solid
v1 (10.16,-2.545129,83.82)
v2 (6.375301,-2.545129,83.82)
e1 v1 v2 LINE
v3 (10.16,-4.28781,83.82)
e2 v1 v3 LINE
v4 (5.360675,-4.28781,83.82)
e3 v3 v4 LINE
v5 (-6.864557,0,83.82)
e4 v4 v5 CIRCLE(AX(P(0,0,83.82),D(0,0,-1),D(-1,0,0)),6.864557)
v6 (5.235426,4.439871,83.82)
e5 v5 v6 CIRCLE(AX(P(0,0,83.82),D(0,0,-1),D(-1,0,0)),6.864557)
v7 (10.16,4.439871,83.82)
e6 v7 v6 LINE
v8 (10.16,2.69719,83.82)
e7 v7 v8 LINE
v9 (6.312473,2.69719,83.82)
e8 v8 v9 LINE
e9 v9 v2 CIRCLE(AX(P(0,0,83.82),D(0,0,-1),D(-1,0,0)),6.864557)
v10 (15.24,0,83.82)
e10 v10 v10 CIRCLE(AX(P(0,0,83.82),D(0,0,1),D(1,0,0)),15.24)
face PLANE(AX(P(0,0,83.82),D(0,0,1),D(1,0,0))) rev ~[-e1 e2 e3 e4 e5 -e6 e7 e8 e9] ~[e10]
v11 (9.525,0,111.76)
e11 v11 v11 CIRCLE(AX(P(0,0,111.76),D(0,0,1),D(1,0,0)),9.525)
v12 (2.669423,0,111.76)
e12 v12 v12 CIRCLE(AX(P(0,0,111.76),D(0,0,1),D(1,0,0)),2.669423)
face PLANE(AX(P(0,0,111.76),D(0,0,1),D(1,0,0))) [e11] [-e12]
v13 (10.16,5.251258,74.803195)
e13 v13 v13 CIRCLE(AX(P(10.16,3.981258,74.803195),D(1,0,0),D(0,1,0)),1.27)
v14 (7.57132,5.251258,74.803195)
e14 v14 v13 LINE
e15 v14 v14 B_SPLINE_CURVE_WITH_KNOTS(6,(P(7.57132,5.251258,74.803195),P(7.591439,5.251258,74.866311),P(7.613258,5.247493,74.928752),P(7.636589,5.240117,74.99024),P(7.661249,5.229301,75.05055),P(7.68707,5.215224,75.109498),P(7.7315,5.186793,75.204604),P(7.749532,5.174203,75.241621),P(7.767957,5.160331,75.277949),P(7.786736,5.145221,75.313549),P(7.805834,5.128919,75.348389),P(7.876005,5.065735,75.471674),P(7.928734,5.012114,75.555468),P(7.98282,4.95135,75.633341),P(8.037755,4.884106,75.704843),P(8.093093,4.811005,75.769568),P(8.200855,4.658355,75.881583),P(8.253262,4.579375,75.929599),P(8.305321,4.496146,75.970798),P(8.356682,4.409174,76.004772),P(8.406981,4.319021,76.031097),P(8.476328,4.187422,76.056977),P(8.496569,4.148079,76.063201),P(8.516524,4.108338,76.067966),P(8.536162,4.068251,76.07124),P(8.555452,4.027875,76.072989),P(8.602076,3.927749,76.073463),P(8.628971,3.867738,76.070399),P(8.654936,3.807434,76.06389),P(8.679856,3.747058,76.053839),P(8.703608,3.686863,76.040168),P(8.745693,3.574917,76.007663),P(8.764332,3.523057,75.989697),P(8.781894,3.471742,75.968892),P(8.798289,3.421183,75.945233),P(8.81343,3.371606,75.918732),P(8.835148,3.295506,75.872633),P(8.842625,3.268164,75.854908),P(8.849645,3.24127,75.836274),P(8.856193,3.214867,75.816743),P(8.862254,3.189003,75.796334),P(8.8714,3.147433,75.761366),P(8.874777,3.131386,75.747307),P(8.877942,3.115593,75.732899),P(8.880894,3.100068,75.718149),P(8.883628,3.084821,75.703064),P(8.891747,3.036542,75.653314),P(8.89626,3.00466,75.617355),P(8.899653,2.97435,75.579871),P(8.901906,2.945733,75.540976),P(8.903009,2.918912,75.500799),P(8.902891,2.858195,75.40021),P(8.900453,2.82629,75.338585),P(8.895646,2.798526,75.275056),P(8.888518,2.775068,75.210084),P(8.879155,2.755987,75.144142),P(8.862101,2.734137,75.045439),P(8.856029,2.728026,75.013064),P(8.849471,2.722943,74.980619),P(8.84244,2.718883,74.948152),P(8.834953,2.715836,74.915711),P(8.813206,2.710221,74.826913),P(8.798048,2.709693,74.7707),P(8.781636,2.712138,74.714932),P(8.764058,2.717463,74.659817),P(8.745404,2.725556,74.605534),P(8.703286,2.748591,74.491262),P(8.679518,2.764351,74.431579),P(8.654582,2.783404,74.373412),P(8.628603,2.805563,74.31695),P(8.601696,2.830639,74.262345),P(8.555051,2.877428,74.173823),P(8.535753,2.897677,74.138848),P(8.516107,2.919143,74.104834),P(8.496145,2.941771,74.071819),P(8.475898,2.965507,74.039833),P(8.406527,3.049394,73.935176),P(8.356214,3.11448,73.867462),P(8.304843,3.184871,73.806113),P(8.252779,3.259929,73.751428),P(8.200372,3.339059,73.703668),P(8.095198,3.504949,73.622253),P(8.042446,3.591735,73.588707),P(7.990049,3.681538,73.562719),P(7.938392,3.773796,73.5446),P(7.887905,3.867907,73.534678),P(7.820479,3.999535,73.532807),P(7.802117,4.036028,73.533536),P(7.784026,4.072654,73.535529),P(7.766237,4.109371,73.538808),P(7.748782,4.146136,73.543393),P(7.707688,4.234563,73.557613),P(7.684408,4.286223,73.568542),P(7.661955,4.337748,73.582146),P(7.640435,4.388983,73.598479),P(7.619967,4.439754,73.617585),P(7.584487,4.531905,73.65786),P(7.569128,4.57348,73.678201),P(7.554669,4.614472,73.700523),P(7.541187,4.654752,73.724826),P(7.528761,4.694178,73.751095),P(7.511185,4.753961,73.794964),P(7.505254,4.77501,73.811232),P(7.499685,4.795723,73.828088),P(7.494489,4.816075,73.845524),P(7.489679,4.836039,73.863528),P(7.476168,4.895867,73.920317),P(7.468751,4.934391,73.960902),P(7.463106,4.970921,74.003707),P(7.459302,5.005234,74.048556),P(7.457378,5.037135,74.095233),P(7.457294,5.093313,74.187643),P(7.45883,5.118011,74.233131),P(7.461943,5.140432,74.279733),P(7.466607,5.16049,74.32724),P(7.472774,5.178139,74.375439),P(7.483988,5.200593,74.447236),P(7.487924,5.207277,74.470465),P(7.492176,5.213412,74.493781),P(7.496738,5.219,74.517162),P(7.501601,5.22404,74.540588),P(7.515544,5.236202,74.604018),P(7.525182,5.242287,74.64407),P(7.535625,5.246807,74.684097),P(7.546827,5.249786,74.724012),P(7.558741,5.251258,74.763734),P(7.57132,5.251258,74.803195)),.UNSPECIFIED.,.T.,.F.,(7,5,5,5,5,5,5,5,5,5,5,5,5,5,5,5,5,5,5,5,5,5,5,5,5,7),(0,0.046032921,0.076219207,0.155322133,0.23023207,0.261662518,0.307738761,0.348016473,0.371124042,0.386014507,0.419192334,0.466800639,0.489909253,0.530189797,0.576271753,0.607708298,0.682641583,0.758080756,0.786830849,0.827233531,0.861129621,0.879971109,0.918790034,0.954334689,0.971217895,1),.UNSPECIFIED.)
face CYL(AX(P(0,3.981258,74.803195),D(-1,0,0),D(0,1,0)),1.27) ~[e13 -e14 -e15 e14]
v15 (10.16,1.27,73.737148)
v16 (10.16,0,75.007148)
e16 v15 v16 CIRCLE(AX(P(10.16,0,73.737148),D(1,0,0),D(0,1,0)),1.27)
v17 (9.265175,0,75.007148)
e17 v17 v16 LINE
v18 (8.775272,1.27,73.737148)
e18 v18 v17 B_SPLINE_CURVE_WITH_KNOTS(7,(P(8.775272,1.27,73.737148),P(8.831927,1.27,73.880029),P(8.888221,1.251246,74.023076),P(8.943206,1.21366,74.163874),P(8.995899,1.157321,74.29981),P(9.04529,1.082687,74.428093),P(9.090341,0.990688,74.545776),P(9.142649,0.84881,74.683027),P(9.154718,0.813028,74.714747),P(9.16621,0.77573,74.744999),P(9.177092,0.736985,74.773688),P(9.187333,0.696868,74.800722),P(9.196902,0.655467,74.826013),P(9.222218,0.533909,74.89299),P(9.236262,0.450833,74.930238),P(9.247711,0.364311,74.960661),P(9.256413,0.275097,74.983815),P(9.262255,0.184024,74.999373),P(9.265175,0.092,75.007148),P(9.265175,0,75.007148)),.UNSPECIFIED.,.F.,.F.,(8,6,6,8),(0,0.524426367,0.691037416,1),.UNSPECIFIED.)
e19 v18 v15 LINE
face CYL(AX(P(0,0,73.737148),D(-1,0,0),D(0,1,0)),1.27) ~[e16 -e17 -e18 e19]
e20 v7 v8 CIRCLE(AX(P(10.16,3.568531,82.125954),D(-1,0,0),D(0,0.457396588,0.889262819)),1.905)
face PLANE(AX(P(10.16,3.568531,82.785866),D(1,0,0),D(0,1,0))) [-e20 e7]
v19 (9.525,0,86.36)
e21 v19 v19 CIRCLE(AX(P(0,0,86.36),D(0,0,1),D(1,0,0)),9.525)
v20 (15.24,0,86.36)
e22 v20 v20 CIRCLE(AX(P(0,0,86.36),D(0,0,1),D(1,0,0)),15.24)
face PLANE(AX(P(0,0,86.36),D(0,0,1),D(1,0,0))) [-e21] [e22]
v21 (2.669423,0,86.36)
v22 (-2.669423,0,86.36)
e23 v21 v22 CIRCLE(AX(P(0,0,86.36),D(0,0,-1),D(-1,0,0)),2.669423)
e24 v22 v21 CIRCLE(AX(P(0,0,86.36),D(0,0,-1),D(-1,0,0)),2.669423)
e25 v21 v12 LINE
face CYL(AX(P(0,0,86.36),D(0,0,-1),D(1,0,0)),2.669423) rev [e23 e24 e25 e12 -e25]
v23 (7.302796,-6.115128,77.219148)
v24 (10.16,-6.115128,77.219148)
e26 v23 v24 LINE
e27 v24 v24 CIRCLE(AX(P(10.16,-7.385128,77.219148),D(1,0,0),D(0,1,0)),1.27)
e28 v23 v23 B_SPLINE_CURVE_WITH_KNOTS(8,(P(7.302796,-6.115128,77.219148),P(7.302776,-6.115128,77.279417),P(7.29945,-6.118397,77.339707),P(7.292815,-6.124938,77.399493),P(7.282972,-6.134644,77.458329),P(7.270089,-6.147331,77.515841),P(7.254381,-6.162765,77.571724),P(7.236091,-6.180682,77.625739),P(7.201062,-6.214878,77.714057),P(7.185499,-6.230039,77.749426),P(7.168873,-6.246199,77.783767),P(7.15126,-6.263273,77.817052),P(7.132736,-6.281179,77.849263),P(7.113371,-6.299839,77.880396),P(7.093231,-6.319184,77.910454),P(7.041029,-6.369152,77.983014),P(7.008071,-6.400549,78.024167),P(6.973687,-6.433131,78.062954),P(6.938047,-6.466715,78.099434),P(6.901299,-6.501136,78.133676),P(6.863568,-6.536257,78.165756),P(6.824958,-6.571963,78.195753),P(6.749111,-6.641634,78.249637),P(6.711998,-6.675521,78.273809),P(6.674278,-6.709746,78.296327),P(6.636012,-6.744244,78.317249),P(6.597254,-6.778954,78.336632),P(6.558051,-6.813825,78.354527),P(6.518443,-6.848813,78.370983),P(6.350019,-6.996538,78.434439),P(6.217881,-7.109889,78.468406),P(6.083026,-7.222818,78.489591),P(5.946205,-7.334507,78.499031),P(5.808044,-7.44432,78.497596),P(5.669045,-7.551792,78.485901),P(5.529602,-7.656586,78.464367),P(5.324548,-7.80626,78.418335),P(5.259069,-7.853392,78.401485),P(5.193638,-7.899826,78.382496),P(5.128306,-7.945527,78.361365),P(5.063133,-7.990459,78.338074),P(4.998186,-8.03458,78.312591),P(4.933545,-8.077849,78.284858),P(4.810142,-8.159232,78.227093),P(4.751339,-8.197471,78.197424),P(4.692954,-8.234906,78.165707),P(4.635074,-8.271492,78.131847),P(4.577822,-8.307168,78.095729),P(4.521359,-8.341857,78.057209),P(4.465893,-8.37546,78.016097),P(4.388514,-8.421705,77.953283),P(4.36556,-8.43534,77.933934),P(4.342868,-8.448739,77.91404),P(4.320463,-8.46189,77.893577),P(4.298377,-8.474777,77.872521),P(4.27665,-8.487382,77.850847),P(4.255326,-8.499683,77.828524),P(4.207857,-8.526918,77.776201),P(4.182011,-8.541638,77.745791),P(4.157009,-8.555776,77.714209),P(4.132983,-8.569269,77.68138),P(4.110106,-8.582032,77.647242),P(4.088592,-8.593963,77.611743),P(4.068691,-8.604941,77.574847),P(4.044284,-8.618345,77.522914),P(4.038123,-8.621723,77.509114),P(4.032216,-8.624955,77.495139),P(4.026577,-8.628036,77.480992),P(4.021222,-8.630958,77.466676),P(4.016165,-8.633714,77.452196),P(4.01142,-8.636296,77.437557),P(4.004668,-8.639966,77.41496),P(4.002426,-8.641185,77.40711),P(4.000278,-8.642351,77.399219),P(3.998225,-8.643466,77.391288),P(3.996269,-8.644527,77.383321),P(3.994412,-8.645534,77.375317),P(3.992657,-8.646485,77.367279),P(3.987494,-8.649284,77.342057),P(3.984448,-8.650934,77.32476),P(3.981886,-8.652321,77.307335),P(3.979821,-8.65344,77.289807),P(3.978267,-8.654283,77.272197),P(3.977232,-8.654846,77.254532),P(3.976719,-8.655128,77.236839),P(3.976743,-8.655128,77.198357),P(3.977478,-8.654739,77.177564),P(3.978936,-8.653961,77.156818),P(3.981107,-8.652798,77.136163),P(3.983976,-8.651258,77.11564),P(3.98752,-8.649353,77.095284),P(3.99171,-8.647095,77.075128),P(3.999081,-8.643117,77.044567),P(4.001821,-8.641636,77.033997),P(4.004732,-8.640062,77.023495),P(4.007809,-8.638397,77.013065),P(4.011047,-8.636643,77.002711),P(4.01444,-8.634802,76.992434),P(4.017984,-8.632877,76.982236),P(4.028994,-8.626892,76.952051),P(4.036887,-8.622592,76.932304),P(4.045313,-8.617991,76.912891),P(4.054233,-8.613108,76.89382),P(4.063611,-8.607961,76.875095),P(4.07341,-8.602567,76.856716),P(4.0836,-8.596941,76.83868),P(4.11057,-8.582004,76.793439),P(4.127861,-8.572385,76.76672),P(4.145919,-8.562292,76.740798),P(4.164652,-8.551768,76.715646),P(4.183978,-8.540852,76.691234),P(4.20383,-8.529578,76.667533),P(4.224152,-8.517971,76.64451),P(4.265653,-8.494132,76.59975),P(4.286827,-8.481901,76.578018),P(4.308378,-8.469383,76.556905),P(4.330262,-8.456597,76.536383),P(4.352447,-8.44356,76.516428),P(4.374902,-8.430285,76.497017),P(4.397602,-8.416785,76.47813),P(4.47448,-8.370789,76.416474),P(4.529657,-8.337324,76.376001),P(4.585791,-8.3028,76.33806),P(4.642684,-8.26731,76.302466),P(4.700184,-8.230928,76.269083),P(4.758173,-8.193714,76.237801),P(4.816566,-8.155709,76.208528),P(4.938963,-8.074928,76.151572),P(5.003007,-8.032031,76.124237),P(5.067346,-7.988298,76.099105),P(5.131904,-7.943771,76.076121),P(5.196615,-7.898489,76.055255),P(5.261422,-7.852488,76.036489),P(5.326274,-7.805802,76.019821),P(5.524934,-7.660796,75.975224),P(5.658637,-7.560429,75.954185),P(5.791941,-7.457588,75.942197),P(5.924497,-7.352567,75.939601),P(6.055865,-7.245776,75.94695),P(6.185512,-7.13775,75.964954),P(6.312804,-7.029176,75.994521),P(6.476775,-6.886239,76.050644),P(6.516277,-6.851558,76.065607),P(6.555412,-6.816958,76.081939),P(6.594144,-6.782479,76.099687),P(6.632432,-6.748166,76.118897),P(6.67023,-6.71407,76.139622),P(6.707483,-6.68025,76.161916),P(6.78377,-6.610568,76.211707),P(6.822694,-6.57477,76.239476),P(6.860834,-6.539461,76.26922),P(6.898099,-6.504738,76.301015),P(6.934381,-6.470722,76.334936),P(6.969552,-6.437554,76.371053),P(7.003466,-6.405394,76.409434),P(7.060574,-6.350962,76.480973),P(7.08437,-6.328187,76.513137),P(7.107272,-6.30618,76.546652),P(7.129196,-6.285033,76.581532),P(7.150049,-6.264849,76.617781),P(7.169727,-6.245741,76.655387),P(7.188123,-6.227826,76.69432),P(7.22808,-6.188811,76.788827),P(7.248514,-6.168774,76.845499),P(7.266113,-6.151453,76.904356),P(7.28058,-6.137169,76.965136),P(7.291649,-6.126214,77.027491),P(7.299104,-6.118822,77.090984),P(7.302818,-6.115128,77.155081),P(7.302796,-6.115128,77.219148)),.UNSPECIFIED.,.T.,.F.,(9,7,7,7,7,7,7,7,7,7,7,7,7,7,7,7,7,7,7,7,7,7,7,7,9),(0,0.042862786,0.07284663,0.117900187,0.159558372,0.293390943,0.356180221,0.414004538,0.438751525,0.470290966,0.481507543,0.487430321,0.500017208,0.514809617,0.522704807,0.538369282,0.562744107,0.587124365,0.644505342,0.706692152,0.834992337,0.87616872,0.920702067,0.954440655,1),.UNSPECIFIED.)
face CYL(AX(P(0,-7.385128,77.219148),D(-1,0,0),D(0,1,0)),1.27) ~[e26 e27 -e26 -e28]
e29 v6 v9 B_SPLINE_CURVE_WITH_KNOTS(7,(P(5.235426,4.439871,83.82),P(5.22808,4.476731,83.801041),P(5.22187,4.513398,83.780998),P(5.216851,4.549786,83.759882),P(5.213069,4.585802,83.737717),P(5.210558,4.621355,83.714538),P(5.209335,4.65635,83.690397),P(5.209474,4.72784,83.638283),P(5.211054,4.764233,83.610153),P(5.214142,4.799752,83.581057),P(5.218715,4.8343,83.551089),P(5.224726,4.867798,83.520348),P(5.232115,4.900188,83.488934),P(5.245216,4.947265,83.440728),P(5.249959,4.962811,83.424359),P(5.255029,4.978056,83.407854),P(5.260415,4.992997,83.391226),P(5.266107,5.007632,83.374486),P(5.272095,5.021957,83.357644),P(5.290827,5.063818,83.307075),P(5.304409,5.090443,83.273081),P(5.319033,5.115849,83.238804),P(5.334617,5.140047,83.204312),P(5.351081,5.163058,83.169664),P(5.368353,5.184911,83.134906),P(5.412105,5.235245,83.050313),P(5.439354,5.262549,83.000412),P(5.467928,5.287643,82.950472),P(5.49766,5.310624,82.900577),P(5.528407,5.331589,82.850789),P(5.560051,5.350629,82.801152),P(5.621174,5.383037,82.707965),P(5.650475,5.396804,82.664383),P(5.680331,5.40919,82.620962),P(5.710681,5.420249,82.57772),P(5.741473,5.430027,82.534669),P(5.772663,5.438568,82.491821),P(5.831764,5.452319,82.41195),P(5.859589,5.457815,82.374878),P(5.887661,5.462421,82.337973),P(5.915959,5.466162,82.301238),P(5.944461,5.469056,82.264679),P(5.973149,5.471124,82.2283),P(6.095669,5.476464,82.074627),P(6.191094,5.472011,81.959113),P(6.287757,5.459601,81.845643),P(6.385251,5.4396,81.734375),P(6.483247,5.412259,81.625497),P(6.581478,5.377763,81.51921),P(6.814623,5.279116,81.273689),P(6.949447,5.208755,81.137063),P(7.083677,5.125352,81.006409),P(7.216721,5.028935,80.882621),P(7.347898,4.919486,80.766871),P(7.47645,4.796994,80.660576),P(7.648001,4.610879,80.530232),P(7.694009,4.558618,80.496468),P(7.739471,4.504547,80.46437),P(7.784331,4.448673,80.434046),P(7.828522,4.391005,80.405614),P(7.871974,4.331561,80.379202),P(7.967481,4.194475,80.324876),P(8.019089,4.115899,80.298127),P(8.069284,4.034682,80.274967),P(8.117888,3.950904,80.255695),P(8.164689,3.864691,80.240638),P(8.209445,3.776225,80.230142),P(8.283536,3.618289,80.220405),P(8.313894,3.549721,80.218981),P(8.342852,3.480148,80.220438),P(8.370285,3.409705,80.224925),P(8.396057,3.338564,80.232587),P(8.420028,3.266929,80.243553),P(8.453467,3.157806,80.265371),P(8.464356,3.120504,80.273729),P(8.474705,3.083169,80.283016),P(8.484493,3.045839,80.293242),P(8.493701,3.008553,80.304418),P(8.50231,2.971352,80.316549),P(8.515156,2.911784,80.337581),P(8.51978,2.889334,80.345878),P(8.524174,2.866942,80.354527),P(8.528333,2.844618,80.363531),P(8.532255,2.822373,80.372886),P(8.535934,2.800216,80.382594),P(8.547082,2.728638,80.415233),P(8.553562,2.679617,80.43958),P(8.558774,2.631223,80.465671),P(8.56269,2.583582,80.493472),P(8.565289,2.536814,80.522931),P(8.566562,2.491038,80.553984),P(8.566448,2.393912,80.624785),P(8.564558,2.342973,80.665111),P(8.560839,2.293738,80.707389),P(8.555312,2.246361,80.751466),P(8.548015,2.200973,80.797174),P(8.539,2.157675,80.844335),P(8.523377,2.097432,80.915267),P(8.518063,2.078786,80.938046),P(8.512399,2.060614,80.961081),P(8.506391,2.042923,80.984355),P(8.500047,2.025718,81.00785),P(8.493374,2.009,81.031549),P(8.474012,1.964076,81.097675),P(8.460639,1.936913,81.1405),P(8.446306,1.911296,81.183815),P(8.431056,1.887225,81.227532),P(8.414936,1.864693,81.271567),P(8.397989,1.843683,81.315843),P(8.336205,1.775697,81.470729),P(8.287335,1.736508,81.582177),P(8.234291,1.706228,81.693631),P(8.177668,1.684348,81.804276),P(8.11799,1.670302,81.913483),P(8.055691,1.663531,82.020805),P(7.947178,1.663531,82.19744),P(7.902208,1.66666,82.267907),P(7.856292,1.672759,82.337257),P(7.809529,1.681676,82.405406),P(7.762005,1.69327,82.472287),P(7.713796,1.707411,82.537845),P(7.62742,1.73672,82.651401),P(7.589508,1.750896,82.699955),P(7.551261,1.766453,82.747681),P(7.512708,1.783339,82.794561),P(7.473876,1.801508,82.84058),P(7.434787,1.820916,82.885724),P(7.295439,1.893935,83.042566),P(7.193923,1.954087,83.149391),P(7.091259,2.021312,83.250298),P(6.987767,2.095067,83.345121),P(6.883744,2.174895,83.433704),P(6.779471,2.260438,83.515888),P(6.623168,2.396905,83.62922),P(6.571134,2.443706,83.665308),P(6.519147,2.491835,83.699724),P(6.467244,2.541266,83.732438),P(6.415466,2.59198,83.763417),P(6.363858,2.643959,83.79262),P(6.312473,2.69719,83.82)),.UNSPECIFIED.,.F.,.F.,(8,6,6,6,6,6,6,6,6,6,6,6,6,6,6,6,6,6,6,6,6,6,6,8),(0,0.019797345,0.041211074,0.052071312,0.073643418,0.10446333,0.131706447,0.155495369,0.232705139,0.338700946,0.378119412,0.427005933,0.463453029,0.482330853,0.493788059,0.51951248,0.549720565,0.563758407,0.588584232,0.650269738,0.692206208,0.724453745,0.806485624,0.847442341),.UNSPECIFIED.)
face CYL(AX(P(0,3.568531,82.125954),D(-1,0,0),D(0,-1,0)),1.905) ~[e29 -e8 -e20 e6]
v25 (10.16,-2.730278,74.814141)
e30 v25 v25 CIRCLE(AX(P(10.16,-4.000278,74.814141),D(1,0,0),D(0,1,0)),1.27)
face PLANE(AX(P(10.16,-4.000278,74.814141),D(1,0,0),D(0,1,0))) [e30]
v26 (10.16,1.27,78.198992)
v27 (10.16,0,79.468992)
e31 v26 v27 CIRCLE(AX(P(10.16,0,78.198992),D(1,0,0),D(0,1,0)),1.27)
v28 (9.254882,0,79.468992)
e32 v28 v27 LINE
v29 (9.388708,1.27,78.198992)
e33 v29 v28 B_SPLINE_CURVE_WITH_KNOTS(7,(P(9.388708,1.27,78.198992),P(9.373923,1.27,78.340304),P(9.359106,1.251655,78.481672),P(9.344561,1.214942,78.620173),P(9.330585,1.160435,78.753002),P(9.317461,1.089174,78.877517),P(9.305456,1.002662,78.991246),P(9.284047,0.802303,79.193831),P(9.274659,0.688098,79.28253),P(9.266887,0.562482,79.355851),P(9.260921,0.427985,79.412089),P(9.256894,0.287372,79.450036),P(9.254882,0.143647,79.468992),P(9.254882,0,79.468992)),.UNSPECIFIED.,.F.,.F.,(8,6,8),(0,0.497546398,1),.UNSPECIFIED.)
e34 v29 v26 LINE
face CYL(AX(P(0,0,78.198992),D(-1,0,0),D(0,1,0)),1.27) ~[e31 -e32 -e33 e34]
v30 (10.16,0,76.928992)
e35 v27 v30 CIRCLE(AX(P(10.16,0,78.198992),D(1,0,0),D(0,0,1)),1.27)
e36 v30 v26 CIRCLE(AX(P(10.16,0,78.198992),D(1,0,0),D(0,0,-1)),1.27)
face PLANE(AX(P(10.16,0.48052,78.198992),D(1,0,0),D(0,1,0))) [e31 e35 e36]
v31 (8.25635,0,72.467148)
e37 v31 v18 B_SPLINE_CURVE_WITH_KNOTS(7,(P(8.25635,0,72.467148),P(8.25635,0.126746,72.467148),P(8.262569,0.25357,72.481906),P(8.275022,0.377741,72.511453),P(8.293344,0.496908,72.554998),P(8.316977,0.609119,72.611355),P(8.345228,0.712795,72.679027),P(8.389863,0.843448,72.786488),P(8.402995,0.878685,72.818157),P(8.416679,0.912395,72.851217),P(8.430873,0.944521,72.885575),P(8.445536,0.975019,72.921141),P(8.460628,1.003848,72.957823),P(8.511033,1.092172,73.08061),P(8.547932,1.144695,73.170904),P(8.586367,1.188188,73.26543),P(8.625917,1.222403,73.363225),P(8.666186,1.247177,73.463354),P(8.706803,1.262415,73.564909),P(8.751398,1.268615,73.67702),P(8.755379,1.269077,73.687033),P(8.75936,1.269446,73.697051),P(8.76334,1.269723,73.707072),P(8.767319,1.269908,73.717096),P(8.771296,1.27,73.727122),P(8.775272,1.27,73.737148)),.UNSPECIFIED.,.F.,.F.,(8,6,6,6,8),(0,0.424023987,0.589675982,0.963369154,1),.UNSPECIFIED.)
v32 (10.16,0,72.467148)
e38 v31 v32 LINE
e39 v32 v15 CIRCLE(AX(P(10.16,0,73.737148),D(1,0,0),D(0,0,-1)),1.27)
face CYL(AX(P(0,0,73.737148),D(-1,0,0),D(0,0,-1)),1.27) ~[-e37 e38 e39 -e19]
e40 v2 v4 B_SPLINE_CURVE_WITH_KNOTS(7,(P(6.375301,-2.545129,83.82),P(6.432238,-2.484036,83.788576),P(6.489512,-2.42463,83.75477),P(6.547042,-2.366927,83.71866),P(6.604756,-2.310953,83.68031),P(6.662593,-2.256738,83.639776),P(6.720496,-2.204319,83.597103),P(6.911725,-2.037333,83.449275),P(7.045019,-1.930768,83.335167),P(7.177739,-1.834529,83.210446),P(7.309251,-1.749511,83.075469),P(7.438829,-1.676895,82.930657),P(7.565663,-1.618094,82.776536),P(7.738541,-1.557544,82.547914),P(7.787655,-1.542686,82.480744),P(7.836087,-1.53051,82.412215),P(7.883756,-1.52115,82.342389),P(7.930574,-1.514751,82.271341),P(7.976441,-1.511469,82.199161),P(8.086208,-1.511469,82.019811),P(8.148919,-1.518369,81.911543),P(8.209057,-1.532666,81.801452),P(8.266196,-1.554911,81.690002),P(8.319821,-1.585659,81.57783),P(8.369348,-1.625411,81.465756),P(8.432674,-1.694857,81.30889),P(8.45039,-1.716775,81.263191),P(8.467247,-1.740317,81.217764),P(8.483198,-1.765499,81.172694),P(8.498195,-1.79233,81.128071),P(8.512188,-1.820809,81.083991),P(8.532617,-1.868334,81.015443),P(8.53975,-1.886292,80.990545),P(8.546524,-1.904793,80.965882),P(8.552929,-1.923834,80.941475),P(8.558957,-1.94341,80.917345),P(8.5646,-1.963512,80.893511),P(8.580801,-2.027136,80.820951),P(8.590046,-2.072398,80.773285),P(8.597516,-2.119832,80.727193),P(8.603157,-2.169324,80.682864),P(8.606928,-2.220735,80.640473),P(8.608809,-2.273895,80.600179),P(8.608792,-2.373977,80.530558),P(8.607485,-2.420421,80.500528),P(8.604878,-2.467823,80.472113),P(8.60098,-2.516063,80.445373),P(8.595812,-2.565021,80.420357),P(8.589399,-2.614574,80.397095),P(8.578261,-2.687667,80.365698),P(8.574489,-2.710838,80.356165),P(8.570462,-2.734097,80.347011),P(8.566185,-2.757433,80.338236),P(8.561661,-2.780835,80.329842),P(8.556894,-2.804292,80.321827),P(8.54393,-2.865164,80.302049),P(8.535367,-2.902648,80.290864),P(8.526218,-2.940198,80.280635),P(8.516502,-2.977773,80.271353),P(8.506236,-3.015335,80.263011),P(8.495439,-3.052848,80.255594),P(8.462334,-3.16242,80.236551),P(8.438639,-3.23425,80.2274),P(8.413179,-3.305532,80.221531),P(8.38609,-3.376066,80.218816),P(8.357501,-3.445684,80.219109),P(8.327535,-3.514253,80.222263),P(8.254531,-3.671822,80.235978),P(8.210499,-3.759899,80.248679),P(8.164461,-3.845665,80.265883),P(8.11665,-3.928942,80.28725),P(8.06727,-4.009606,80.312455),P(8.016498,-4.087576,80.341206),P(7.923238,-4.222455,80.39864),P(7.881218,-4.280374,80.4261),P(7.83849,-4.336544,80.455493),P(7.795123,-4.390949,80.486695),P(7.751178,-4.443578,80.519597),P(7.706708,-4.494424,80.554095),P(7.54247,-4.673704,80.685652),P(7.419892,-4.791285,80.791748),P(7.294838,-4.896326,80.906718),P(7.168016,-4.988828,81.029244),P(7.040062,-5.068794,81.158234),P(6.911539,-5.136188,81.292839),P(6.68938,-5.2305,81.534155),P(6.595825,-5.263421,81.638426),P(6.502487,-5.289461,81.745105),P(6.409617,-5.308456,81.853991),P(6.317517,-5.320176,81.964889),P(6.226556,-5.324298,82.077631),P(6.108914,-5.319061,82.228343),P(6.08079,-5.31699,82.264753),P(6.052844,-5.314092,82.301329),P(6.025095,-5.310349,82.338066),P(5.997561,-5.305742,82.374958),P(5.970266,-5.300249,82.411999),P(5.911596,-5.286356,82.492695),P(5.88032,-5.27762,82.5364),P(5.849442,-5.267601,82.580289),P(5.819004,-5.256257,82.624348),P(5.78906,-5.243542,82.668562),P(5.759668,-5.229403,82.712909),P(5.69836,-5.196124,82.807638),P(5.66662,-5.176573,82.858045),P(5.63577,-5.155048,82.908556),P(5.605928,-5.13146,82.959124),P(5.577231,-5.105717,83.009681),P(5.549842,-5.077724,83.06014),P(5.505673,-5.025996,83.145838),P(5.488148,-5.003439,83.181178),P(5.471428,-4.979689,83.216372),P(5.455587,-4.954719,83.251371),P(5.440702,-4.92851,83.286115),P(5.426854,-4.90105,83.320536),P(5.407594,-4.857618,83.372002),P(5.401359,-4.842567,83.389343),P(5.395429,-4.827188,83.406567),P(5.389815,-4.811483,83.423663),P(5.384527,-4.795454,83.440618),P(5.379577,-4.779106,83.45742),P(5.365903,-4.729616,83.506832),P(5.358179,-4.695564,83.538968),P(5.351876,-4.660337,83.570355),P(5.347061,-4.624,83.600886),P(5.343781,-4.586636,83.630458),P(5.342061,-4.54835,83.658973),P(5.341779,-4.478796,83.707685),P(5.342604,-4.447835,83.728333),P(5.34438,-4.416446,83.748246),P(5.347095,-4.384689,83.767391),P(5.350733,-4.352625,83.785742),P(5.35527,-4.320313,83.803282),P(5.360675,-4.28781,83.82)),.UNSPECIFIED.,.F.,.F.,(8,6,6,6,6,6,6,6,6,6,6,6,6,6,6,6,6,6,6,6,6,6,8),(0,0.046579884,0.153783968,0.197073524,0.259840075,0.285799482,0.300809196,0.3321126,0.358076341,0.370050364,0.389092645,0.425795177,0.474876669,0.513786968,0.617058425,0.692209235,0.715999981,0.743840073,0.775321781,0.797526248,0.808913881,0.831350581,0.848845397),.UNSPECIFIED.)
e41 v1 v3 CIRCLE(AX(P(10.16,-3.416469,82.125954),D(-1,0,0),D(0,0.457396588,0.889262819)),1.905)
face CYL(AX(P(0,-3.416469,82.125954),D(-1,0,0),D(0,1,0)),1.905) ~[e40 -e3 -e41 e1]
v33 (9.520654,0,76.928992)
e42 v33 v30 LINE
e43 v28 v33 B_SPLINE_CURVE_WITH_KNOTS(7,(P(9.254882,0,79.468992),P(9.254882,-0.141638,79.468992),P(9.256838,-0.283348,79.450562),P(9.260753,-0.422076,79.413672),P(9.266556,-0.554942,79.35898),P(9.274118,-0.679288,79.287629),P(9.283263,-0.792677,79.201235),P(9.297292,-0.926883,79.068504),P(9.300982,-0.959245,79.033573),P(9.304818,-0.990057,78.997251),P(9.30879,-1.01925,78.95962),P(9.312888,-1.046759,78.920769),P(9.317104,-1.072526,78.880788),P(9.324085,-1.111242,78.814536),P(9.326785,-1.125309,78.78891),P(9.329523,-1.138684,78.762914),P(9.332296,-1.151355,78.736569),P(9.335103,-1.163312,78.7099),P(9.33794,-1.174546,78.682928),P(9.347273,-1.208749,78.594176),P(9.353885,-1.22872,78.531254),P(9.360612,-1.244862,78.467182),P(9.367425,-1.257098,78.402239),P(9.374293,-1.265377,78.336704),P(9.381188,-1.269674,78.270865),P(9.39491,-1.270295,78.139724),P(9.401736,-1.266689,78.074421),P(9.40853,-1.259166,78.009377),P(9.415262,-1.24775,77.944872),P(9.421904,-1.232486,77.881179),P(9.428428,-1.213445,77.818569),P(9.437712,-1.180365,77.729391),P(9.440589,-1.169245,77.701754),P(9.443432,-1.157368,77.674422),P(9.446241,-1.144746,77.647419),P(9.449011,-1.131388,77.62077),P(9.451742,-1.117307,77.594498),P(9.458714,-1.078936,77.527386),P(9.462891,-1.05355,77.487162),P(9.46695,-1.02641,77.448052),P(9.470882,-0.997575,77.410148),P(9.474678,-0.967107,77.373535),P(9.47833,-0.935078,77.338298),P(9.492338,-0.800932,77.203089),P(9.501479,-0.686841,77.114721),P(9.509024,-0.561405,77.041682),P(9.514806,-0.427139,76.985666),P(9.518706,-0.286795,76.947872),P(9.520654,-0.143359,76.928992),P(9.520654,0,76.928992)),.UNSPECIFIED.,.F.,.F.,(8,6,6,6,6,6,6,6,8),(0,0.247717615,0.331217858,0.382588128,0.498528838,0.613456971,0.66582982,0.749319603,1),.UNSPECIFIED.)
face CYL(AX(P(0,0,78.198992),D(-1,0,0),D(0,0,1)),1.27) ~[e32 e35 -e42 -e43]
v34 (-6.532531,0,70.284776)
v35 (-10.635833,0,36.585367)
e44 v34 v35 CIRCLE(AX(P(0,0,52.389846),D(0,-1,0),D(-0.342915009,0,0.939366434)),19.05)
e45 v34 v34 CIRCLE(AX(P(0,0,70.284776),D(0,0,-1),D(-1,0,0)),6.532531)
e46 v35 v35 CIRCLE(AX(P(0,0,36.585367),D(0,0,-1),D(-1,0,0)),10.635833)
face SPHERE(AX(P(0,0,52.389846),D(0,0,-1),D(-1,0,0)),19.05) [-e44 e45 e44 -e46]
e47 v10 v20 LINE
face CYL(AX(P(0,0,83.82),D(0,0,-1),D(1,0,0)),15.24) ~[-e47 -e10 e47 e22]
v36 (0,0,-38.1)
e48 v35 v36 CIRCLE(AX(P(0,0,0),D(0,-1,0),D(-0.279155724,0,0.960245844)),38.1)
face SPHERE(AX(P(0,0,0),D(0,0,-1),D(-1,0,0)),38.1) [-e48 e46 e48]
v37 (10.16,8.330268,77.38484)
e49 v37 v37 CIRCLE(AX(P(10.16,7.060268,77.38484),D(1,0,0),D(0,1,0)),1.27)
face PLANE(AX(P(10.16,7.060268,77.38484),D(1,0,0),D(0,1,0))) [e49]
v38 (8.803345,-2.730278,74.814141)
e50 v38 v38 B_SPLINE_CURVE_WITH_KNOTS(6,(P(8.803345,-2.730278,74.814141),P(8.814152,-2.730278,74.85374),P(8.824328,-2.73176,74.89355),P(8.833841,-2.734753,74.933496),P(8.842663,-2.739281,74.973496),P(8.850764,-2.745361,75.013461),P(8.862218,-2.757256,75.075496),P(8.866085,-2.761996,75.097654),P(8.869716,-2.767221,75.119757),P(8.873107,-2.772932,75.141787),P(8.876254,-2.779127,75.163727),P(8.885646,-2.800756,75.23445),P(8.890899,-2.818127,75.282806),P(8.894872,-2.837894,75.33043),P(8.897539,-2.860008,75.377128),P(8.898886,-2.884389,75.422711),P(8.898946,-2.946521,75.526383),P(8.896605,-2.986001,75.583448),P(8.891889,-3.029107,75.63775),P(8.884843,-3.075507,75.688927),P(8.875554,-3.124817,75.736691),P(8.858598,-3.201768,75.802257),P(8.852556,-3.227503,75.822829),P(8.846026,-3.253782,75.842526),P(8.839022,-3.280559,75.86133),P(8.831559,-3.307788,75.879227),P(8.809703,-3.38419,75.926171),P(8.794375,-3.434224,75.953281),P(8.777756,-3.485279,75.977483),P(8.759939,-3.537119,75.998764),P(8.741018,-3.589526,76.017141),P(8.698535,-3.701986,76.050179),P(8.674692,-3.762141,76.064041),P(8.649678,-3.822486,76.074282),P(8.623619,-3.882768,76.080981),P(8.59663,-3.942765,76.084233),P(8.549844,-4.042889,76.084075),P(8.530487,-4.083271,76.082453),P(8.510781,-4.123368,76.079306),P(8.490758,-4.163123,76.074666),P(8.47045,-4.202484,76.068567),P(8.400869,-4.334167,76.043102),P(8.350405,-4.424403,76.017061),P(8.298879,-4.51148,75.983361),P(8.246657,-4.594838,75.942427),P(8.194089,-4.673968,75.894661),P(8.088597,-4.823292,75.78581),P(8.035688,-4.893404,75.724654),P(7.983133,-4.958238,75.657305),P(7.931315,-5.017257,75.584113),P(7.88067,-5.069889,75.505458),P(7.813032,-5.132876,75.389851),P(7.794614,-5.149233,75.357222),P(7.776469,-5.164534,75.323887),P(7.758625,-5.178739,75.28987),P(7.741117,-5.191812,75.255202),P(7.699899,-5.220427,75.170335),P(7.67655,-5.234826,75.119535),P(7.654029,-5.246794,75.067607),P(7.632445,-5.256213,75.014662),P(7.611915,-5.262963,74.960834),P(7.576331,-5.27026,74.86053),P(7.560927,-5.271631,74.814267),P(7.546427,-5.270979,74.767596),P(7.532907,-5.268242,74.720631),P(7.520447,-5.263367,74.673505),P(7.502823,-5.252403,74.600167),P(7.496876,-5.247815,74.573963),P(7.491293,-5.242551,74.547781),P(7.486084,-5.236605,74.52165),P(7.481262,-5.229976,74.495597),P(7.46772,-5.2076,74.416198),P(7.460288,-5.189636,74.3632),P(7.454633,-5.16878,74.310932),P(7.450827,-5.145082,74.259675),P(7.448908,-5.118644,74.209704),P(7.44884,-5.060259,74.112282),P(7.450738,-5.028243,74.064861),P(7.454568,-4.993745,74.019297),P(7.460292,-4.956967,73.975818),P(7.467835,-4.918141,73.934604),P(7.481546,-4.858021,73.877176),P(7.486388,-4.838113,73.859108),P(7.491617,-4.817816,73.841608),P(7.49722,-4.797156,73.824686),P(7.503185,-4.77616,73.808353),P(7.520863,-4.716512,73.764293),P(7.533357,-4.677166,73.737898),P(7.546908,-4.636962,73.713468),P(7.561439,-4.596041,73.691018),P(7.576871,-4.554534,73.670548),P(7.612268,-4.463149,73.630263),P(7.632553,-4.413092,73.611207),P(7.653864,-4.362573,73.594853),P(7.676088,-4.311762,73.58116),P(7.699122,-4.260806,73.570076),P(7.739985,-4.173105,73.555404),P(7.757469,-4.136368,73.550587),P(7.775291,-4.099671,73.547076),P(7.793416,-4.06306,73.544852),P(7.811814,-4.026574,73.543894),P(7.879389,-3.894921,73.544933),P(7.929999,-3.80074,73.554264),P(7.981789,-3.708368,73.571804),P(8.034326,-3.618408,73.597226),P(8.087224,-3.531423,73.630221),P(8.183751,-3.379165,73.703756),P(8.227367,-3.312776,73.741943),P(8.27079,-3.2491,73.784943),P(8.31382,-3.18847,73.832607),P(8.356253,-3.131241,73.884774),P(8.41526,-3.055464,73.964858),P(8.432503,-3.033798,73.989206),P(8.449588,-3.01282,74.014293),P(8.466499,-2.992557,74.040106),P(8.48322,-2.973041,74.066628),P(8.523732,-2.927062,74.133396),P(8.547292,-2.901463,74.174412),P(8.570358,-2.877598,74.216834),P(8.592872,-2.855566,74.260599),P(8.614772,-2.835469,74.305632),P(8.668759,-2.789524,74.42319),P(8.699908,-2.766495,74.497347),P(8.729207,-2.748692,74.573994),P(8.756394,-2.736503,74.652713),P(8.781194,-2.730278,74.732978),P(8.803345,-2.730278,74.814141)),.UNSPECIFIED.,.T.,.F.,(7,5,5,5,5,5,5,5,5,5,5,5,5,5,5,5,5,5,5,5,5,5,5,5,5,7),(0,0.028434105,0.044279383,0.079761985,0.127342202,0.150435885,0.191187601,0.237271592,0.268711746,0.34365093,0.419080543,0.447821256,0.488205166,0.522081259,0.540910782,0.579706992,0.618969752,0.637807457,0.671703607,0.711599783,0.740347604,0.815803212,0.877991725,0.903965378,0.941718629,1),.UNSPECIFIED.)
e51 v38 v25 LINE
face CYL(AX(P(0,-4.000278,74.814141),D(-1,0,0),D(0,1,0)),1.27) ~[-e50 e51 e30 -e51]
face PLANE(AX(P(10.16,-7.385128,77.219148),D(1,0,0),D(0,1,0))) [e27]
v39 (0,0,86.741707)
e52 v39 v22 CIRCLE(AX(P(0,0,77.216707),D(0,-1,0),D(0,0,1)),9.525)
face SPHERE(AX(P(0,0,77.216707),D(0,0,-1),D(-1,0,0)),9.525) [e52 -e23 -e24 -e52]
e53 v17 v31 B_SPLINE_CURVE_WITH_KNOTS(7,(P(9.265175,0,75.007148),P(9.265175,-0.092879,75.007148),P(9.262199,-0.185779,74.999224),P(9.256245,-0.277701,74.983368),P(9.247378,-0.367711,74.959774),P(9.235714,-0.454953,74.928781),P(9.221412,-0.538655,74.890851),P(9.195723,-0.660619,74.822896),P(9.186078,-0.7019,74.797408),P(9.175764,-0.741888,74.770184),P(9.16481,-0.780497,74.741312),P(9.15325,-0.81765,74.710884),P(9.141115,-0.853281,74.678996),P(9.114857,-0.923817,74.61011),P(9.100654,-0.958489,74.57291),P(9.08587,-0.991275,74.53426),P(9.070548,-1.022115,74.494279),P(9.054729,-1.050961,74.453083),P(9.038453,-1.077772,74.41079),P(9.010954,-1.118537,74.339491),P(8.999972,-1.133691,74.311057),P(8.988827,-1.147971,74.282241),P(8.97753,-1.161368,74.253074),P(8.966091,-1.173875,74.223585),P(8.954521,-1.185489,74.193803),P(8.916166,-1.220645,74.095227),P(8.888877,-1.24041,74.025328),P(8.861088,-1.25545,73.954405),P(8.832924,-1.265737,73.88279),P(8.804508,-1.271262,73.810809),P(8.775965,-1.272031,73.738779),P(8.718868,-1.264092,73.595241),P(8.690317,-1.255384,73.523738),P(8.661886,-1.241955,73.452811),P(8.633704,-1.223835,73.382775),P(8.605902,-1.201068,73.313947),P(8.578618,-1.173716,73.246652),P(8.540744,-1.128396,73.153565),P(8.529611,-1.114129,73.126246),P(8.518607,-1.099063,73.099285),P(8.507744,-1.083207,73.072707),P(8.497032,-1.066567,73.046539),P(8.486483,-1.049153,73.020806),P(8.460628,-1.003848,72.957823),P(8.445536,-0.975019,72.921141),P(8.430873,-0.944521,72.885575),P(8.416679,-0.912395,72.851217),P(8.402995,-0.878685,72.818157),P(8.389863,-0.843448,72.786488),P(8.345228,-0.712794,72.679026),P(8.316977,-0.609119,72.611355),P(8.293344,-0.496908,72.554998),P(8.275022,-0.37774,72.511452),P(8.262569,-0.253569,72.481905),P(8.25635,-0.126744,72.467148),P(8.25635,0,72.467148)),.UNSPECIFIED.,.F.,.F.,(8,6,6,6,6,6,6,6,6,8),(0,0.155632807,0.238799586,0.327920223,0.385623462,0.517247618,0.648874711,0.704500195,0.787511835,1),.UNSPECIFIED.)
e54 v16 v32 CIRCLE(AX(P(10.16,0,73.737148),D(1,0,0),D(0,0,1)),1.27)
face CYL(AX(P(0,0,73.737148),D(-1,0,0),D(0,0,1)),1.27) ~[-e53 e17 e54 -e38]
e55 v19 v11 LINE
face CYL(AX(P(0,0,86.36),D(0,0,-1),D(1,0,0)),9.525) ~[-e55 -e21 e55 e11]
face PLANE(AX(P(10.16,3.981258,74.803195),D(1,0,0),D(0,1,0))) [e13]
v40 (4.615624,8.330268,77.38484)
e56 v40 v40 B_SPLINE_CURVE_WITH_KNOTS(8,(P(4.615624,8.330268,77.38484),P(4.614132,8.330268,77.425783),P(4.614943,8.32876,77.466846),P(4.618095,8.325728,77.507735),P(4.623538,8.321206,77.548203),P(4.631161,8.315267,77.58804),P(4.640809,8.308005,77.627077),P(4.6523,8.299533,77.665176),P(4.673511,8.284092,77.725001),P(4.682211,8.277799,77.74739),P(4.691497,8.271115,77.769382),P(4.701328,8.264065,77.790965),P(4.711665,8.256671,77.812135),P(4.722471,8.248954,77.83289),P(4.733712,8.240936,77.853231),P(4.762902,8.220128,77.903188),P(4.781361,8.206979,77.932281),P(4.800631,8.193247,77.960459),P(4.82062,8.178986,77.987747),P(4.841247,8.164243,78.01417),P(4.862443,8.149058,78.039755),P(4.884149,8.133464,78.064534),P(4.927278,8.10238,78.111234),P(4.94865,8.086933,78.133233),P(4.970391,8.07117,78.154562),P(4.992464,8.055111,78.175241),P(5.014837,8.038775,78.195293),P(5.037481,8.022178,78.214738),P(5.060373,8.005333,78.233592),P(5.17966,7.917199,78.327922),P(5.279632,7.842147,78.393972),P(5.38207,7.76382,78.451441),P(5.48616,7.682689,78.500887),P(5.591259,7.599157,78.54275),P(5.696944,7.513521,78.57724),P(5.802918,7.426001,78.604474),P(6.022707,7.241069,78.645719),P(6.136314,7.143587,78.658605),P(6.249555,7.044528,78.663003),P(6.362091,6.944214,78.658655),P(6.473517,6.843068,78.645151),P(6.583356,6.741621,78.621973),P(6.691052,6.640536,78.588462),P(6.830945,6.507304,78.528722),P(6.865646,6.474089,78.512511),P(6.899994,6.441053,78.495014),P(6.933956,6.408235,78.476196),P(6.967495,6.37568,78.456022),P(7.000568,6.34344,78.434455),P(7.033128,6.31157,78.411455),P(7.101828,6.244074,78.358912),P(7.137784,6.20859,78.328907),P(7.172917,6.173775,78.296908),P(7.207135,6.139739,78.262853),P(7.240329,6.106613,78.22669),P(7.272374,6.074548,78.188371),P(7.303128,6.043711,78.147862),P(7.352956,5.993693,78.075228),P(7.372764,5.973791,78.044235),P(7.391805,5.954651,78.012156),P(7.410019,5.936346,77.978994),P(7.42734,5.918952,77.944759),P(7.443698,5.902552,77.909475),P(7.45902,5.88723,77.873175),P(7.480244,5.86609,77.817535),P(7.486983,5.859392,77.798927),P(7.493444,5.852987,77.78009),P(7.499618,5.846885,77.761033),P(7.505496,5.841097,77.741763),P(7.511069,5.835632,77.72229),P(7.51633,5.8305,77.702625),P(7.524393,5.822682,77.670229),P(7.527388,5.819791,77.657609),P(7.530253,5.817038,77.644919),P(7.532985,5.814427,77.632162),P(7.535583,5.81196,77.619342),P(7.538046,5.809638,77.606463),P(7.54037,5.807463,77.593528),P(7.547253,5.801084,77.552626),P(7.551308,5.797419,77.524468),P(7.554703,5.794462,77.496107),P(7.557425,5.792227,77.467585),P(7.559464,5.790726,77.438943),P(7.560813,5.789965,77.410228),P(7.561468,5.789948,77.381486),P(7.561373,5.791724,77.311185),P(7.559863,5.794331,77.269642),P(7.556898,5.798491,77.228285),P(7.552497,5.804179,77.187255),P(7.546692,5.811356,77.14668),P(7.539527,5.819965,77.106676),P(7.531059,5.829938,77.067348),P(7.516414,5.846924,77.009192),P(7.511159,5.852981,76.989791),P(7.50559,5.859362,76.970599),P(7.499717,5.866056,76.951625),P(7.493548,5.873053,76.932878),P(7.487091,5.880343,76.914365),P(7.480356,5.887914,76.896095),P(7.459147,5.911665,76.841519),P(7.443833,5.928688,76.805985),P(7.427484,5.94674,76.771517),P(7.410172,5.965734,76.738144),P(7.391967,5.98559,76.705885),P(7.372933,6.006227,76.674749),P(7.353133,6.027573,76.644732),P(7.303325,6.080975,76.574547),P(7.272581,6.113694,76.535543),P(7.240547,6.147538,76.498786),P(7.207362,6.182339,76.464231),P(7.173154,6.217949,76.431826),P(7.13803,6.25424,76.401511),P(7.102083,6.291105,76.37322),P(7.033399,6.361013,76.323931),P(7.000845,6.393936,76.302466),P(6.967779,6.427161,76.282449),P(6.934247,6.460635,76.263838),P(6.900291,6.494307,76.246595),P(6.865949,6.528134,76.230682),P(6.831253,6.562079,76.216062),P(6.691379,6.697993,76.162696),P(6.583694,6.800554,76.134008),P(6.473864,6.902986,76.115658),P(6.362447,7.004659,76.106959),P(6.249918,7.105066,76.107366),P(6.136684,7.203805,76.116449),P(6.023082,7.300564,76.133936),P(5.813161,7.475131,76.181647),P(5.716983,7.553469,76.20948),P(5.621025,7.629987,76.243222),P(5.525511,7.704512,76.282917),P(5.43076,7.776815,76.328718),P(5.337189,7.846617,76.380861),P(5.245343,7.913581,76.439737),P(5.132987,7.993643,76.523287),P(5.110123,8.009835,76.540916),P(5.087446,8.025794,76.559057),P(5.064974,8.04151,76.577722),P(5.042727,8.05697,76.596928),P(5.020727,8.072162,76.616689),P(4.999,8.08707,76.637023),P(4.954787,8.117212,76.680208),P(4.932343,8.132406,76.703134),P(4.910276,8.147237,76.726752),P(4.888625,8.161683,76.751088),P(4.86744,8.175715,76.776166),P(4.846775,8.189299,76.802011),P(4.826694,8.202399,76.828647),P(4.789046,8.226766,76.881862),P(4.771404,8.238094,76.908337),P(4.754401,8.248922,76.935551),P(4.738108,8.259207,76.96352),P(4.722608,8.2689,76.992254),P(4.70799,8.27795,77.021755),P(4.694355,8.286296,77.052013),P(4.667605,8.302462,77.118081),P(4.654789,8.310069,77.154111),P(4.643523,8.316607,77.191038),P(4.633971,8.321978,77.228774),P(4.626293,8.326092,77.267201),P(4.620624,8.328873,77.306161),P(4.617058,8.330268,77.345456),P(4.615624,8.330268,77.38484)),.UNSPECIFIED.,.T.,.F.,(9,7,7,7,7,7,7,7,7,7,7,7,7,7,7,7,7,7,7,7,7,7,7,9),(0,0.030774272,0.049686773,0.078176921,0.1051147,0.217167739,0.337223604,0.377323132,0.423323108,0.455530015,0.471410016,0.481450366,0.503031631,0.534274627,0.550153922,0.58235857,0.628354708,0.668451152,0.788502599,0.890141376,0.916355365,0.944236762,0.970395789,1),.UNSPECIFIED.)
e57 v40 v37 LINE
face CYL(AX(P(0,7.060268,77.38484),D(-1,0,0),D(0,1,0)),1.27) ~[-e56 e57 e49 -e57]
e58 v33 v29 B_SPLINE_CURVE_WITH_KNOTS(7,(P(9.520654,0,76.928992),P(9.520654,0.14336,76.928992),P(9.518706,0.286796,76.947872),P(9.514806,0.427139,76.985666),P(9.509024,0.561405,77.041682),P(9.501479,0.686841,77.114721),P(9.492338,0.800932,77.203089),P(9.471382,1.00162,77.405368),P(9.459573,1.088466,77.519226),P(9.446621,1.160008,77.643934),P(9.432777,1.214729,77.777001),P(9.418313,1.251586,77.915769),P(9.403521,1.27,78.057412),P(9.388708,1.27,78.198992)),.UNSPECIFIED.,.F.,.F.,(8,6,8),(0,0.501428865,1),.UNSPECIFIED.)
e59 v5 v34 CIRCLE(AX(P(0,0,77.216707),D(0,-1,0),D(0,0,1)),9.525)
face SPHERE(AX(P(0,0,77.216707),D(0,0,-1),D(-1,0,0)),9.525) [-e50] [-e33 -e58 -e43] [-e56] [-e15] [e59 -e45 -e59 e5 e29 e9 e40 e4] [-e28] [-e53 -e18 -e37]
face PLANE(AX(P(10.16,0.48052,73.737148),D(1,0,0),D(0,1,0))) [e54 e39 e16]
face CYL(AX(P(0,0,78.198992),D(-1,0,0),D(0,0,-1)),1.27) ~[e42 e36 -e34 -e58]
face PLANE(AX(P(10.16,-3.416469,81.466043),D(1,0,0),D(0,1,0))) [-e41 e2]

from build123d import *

# Parameters (mm, degrees)
F3_R     = 1.27
F4_DEPTH = 10.16
F6_R     = 15.24
F7_DEPTH = 2.54
F8_R     = 9.525
F8_R_2   = 2.6694227638
F9_DEPTH = 25.4


with BuildPart() as f1:
    # F0 (on Front) → F1 (revolve)
    with BuildSketch(Plane.XZ):
        with BuildLine():
            Line((0, 33.3398456074), (0, 38.1))
            ThreePointArc((0, 38.1), (-5.3715700607, 37.719441076), (-10.6358330914, 36.585366671))
            ThreePointArc((-10.6358330914, 36.585366671), (-5.5599989326, 34.1692827218), (0, 33.3398456074))
        make_face()
        with BuildLine():
            ThreePointArc((-10.6358330914, 36.585366671), (-5.3715700607, 37.719441076), (0, 38.1))
            Line((0, 38.1), (0, 67.6917069877))
            ThreePointArc((0, 67.6917069877), (-3.5141843979, 68.3636773923), (-6.5325309142, 70.2847761705))
            ThreePointArc((-6.5325309142, 70.2847761705), (-18.9103339688, 54.6924027056), (-10.6358330914, 36.585366671))
        make_face()
        with BuildLine():
            ThreePointArc((0, 33.3398456074), (-5.5599989326, 34.1692827218), (-10.6358330914, 36.585366671))
            ThreePointArc((-10.6358330914, 36.585366671), (-37.719441076, -5.3715700607), (0, -38.1))
            Line((0, -38.1), (0, 33.3398456074))
        make_face()
        with BuildLine():
            ThreePointArc((-6.5325309142, 70.2847761705), (-3.5141843979, 68.3636773923), (0, 67.6917069877))
            Line((0, 67.6917069877), (0, 71.4398456074))
            ThreePointArc((0, 71.4398456074), (-3.3169317731, 71.1488558055), (-6.5325309142, 70.2847761705))
        make_face()
        with BuildLine():
            ThreePointArc((0, 86.7417069877), (-8.8530295954, 80.7308913857), (-6.5325309142, 70.2847761705))
            ThreePointArc((-6.5325309142, 70.2847761705), (-3.3169317731, 71.1488558055), (0, 71.4398456074))
            Line((0, 71.4398456074), (0, 86.7417069877))
        make_face()
    revolve(axis=Axis((0, 0, 28.575), (0, 0, -1)))

    # F3 (on offset) → F4 (join)
    with BuildSketch(Plane.YZ):
        with BuildLine():
            ThreePointArc((1.27, 73.7371481955), (0.8980256121, 74.6351738076), (0, 75.0071481955))
            Line((0, 75.0071481955), (0, 72.4671481955))
            ThreePointArc((0, 72.4671481955), (0.8980256121, 72.8391225834), (1.27, 73.7371481955))
        make_face()
        with BuildLine():
            Line((0, 72.4671481955), (0, 75.0071481955))
            ThreePointArc((0, 75.0071481955), (-1.27, 73.7371481955), (0, 72.4671481955))
        make_face()
        with BuildLine():
            ThreePointArc((1.27, 78.1989917159), (0.8980256121, 79.097017328), (0, 79.4689917159))
            Line((0, 79.4689917159), (0, 76.9289917159))
            ThreePointArc((0, 76.9289917159), (0.8980256121, 77.3009661038), (1.27, 78.1989917159))
        make_face()
        with BuildLine():
            Line((0, 76.9289917159), (0, 79.4689917159))
            ThreePointArc((0, 79.4689917159), (-1.27, 78.1989917159), (0, 76.9289917159))
        make_face()
        with BuildLine():
            ThreePointArc((-5.3214693207, 82.12595433), (-3.4164693207, 80.22095433), (-1.5114693207, 82.12595433))
            Line((-1.5114693207, 82.12595433), (-5.3214693207, 82.12595433))
        make_face()
        with BuildLine():
            Line((-5.3214693207, 82.12595433), (-1.5114693207, 82.12595433))
            ThreePointArc((-1.5114693207, 82.12595433), (-3.4164693207, 84.03095433), (-5.3214693207, 82.12595433))
        make_face()
        with BuildLine():
            ThreePointArc((5.4735306793, 82.12595433), (3.5685306793, 84.03095433), (1.6635306793, 82.12595433))
            Line((1.6635306793, 82.12595433), (5.4735306793, 82.12595433))
        make_face()
        with BuildLine():
            Line((5.4735306793, 82.12595433), (1.6635306793, 82.12595433))
            ThreePointArc((1.6635306793, 82.12595433), (3.5685306793, 80.22095433), (5.4735306793, 82.12595433))
        make_face()
        with Locations((-7.385127712, 77.2191482013)):
            Circle(F3_R)
        with Locations((-4.0002781898, 74.8141407967)):
            Circle(F3_R)
        with Locations((7.0602684917, 77.3848402455)):
            Circle(F3_R)
        with Locations((3.981257522, 74.8031953548)):
            Circle(F3_R)
    extrude(amount=F4_DEPTH)

    # F6 (on offset) → F7 (join)
    with BuildSketch(Plane.XY.offset(83.82)):
        Circle(F6_R)
    extrude(amount=F7_DEPTH)

    # F8 (on face) → F9 (join)
    with BuildSketch(Plane.XY.offset(86.36)):
        Circle(F8_R)
        Circle(F8_R_2, mode=Mode.SUBTRACT)
    extrude(amount=F9_DEPTH)


solid = f1.part
